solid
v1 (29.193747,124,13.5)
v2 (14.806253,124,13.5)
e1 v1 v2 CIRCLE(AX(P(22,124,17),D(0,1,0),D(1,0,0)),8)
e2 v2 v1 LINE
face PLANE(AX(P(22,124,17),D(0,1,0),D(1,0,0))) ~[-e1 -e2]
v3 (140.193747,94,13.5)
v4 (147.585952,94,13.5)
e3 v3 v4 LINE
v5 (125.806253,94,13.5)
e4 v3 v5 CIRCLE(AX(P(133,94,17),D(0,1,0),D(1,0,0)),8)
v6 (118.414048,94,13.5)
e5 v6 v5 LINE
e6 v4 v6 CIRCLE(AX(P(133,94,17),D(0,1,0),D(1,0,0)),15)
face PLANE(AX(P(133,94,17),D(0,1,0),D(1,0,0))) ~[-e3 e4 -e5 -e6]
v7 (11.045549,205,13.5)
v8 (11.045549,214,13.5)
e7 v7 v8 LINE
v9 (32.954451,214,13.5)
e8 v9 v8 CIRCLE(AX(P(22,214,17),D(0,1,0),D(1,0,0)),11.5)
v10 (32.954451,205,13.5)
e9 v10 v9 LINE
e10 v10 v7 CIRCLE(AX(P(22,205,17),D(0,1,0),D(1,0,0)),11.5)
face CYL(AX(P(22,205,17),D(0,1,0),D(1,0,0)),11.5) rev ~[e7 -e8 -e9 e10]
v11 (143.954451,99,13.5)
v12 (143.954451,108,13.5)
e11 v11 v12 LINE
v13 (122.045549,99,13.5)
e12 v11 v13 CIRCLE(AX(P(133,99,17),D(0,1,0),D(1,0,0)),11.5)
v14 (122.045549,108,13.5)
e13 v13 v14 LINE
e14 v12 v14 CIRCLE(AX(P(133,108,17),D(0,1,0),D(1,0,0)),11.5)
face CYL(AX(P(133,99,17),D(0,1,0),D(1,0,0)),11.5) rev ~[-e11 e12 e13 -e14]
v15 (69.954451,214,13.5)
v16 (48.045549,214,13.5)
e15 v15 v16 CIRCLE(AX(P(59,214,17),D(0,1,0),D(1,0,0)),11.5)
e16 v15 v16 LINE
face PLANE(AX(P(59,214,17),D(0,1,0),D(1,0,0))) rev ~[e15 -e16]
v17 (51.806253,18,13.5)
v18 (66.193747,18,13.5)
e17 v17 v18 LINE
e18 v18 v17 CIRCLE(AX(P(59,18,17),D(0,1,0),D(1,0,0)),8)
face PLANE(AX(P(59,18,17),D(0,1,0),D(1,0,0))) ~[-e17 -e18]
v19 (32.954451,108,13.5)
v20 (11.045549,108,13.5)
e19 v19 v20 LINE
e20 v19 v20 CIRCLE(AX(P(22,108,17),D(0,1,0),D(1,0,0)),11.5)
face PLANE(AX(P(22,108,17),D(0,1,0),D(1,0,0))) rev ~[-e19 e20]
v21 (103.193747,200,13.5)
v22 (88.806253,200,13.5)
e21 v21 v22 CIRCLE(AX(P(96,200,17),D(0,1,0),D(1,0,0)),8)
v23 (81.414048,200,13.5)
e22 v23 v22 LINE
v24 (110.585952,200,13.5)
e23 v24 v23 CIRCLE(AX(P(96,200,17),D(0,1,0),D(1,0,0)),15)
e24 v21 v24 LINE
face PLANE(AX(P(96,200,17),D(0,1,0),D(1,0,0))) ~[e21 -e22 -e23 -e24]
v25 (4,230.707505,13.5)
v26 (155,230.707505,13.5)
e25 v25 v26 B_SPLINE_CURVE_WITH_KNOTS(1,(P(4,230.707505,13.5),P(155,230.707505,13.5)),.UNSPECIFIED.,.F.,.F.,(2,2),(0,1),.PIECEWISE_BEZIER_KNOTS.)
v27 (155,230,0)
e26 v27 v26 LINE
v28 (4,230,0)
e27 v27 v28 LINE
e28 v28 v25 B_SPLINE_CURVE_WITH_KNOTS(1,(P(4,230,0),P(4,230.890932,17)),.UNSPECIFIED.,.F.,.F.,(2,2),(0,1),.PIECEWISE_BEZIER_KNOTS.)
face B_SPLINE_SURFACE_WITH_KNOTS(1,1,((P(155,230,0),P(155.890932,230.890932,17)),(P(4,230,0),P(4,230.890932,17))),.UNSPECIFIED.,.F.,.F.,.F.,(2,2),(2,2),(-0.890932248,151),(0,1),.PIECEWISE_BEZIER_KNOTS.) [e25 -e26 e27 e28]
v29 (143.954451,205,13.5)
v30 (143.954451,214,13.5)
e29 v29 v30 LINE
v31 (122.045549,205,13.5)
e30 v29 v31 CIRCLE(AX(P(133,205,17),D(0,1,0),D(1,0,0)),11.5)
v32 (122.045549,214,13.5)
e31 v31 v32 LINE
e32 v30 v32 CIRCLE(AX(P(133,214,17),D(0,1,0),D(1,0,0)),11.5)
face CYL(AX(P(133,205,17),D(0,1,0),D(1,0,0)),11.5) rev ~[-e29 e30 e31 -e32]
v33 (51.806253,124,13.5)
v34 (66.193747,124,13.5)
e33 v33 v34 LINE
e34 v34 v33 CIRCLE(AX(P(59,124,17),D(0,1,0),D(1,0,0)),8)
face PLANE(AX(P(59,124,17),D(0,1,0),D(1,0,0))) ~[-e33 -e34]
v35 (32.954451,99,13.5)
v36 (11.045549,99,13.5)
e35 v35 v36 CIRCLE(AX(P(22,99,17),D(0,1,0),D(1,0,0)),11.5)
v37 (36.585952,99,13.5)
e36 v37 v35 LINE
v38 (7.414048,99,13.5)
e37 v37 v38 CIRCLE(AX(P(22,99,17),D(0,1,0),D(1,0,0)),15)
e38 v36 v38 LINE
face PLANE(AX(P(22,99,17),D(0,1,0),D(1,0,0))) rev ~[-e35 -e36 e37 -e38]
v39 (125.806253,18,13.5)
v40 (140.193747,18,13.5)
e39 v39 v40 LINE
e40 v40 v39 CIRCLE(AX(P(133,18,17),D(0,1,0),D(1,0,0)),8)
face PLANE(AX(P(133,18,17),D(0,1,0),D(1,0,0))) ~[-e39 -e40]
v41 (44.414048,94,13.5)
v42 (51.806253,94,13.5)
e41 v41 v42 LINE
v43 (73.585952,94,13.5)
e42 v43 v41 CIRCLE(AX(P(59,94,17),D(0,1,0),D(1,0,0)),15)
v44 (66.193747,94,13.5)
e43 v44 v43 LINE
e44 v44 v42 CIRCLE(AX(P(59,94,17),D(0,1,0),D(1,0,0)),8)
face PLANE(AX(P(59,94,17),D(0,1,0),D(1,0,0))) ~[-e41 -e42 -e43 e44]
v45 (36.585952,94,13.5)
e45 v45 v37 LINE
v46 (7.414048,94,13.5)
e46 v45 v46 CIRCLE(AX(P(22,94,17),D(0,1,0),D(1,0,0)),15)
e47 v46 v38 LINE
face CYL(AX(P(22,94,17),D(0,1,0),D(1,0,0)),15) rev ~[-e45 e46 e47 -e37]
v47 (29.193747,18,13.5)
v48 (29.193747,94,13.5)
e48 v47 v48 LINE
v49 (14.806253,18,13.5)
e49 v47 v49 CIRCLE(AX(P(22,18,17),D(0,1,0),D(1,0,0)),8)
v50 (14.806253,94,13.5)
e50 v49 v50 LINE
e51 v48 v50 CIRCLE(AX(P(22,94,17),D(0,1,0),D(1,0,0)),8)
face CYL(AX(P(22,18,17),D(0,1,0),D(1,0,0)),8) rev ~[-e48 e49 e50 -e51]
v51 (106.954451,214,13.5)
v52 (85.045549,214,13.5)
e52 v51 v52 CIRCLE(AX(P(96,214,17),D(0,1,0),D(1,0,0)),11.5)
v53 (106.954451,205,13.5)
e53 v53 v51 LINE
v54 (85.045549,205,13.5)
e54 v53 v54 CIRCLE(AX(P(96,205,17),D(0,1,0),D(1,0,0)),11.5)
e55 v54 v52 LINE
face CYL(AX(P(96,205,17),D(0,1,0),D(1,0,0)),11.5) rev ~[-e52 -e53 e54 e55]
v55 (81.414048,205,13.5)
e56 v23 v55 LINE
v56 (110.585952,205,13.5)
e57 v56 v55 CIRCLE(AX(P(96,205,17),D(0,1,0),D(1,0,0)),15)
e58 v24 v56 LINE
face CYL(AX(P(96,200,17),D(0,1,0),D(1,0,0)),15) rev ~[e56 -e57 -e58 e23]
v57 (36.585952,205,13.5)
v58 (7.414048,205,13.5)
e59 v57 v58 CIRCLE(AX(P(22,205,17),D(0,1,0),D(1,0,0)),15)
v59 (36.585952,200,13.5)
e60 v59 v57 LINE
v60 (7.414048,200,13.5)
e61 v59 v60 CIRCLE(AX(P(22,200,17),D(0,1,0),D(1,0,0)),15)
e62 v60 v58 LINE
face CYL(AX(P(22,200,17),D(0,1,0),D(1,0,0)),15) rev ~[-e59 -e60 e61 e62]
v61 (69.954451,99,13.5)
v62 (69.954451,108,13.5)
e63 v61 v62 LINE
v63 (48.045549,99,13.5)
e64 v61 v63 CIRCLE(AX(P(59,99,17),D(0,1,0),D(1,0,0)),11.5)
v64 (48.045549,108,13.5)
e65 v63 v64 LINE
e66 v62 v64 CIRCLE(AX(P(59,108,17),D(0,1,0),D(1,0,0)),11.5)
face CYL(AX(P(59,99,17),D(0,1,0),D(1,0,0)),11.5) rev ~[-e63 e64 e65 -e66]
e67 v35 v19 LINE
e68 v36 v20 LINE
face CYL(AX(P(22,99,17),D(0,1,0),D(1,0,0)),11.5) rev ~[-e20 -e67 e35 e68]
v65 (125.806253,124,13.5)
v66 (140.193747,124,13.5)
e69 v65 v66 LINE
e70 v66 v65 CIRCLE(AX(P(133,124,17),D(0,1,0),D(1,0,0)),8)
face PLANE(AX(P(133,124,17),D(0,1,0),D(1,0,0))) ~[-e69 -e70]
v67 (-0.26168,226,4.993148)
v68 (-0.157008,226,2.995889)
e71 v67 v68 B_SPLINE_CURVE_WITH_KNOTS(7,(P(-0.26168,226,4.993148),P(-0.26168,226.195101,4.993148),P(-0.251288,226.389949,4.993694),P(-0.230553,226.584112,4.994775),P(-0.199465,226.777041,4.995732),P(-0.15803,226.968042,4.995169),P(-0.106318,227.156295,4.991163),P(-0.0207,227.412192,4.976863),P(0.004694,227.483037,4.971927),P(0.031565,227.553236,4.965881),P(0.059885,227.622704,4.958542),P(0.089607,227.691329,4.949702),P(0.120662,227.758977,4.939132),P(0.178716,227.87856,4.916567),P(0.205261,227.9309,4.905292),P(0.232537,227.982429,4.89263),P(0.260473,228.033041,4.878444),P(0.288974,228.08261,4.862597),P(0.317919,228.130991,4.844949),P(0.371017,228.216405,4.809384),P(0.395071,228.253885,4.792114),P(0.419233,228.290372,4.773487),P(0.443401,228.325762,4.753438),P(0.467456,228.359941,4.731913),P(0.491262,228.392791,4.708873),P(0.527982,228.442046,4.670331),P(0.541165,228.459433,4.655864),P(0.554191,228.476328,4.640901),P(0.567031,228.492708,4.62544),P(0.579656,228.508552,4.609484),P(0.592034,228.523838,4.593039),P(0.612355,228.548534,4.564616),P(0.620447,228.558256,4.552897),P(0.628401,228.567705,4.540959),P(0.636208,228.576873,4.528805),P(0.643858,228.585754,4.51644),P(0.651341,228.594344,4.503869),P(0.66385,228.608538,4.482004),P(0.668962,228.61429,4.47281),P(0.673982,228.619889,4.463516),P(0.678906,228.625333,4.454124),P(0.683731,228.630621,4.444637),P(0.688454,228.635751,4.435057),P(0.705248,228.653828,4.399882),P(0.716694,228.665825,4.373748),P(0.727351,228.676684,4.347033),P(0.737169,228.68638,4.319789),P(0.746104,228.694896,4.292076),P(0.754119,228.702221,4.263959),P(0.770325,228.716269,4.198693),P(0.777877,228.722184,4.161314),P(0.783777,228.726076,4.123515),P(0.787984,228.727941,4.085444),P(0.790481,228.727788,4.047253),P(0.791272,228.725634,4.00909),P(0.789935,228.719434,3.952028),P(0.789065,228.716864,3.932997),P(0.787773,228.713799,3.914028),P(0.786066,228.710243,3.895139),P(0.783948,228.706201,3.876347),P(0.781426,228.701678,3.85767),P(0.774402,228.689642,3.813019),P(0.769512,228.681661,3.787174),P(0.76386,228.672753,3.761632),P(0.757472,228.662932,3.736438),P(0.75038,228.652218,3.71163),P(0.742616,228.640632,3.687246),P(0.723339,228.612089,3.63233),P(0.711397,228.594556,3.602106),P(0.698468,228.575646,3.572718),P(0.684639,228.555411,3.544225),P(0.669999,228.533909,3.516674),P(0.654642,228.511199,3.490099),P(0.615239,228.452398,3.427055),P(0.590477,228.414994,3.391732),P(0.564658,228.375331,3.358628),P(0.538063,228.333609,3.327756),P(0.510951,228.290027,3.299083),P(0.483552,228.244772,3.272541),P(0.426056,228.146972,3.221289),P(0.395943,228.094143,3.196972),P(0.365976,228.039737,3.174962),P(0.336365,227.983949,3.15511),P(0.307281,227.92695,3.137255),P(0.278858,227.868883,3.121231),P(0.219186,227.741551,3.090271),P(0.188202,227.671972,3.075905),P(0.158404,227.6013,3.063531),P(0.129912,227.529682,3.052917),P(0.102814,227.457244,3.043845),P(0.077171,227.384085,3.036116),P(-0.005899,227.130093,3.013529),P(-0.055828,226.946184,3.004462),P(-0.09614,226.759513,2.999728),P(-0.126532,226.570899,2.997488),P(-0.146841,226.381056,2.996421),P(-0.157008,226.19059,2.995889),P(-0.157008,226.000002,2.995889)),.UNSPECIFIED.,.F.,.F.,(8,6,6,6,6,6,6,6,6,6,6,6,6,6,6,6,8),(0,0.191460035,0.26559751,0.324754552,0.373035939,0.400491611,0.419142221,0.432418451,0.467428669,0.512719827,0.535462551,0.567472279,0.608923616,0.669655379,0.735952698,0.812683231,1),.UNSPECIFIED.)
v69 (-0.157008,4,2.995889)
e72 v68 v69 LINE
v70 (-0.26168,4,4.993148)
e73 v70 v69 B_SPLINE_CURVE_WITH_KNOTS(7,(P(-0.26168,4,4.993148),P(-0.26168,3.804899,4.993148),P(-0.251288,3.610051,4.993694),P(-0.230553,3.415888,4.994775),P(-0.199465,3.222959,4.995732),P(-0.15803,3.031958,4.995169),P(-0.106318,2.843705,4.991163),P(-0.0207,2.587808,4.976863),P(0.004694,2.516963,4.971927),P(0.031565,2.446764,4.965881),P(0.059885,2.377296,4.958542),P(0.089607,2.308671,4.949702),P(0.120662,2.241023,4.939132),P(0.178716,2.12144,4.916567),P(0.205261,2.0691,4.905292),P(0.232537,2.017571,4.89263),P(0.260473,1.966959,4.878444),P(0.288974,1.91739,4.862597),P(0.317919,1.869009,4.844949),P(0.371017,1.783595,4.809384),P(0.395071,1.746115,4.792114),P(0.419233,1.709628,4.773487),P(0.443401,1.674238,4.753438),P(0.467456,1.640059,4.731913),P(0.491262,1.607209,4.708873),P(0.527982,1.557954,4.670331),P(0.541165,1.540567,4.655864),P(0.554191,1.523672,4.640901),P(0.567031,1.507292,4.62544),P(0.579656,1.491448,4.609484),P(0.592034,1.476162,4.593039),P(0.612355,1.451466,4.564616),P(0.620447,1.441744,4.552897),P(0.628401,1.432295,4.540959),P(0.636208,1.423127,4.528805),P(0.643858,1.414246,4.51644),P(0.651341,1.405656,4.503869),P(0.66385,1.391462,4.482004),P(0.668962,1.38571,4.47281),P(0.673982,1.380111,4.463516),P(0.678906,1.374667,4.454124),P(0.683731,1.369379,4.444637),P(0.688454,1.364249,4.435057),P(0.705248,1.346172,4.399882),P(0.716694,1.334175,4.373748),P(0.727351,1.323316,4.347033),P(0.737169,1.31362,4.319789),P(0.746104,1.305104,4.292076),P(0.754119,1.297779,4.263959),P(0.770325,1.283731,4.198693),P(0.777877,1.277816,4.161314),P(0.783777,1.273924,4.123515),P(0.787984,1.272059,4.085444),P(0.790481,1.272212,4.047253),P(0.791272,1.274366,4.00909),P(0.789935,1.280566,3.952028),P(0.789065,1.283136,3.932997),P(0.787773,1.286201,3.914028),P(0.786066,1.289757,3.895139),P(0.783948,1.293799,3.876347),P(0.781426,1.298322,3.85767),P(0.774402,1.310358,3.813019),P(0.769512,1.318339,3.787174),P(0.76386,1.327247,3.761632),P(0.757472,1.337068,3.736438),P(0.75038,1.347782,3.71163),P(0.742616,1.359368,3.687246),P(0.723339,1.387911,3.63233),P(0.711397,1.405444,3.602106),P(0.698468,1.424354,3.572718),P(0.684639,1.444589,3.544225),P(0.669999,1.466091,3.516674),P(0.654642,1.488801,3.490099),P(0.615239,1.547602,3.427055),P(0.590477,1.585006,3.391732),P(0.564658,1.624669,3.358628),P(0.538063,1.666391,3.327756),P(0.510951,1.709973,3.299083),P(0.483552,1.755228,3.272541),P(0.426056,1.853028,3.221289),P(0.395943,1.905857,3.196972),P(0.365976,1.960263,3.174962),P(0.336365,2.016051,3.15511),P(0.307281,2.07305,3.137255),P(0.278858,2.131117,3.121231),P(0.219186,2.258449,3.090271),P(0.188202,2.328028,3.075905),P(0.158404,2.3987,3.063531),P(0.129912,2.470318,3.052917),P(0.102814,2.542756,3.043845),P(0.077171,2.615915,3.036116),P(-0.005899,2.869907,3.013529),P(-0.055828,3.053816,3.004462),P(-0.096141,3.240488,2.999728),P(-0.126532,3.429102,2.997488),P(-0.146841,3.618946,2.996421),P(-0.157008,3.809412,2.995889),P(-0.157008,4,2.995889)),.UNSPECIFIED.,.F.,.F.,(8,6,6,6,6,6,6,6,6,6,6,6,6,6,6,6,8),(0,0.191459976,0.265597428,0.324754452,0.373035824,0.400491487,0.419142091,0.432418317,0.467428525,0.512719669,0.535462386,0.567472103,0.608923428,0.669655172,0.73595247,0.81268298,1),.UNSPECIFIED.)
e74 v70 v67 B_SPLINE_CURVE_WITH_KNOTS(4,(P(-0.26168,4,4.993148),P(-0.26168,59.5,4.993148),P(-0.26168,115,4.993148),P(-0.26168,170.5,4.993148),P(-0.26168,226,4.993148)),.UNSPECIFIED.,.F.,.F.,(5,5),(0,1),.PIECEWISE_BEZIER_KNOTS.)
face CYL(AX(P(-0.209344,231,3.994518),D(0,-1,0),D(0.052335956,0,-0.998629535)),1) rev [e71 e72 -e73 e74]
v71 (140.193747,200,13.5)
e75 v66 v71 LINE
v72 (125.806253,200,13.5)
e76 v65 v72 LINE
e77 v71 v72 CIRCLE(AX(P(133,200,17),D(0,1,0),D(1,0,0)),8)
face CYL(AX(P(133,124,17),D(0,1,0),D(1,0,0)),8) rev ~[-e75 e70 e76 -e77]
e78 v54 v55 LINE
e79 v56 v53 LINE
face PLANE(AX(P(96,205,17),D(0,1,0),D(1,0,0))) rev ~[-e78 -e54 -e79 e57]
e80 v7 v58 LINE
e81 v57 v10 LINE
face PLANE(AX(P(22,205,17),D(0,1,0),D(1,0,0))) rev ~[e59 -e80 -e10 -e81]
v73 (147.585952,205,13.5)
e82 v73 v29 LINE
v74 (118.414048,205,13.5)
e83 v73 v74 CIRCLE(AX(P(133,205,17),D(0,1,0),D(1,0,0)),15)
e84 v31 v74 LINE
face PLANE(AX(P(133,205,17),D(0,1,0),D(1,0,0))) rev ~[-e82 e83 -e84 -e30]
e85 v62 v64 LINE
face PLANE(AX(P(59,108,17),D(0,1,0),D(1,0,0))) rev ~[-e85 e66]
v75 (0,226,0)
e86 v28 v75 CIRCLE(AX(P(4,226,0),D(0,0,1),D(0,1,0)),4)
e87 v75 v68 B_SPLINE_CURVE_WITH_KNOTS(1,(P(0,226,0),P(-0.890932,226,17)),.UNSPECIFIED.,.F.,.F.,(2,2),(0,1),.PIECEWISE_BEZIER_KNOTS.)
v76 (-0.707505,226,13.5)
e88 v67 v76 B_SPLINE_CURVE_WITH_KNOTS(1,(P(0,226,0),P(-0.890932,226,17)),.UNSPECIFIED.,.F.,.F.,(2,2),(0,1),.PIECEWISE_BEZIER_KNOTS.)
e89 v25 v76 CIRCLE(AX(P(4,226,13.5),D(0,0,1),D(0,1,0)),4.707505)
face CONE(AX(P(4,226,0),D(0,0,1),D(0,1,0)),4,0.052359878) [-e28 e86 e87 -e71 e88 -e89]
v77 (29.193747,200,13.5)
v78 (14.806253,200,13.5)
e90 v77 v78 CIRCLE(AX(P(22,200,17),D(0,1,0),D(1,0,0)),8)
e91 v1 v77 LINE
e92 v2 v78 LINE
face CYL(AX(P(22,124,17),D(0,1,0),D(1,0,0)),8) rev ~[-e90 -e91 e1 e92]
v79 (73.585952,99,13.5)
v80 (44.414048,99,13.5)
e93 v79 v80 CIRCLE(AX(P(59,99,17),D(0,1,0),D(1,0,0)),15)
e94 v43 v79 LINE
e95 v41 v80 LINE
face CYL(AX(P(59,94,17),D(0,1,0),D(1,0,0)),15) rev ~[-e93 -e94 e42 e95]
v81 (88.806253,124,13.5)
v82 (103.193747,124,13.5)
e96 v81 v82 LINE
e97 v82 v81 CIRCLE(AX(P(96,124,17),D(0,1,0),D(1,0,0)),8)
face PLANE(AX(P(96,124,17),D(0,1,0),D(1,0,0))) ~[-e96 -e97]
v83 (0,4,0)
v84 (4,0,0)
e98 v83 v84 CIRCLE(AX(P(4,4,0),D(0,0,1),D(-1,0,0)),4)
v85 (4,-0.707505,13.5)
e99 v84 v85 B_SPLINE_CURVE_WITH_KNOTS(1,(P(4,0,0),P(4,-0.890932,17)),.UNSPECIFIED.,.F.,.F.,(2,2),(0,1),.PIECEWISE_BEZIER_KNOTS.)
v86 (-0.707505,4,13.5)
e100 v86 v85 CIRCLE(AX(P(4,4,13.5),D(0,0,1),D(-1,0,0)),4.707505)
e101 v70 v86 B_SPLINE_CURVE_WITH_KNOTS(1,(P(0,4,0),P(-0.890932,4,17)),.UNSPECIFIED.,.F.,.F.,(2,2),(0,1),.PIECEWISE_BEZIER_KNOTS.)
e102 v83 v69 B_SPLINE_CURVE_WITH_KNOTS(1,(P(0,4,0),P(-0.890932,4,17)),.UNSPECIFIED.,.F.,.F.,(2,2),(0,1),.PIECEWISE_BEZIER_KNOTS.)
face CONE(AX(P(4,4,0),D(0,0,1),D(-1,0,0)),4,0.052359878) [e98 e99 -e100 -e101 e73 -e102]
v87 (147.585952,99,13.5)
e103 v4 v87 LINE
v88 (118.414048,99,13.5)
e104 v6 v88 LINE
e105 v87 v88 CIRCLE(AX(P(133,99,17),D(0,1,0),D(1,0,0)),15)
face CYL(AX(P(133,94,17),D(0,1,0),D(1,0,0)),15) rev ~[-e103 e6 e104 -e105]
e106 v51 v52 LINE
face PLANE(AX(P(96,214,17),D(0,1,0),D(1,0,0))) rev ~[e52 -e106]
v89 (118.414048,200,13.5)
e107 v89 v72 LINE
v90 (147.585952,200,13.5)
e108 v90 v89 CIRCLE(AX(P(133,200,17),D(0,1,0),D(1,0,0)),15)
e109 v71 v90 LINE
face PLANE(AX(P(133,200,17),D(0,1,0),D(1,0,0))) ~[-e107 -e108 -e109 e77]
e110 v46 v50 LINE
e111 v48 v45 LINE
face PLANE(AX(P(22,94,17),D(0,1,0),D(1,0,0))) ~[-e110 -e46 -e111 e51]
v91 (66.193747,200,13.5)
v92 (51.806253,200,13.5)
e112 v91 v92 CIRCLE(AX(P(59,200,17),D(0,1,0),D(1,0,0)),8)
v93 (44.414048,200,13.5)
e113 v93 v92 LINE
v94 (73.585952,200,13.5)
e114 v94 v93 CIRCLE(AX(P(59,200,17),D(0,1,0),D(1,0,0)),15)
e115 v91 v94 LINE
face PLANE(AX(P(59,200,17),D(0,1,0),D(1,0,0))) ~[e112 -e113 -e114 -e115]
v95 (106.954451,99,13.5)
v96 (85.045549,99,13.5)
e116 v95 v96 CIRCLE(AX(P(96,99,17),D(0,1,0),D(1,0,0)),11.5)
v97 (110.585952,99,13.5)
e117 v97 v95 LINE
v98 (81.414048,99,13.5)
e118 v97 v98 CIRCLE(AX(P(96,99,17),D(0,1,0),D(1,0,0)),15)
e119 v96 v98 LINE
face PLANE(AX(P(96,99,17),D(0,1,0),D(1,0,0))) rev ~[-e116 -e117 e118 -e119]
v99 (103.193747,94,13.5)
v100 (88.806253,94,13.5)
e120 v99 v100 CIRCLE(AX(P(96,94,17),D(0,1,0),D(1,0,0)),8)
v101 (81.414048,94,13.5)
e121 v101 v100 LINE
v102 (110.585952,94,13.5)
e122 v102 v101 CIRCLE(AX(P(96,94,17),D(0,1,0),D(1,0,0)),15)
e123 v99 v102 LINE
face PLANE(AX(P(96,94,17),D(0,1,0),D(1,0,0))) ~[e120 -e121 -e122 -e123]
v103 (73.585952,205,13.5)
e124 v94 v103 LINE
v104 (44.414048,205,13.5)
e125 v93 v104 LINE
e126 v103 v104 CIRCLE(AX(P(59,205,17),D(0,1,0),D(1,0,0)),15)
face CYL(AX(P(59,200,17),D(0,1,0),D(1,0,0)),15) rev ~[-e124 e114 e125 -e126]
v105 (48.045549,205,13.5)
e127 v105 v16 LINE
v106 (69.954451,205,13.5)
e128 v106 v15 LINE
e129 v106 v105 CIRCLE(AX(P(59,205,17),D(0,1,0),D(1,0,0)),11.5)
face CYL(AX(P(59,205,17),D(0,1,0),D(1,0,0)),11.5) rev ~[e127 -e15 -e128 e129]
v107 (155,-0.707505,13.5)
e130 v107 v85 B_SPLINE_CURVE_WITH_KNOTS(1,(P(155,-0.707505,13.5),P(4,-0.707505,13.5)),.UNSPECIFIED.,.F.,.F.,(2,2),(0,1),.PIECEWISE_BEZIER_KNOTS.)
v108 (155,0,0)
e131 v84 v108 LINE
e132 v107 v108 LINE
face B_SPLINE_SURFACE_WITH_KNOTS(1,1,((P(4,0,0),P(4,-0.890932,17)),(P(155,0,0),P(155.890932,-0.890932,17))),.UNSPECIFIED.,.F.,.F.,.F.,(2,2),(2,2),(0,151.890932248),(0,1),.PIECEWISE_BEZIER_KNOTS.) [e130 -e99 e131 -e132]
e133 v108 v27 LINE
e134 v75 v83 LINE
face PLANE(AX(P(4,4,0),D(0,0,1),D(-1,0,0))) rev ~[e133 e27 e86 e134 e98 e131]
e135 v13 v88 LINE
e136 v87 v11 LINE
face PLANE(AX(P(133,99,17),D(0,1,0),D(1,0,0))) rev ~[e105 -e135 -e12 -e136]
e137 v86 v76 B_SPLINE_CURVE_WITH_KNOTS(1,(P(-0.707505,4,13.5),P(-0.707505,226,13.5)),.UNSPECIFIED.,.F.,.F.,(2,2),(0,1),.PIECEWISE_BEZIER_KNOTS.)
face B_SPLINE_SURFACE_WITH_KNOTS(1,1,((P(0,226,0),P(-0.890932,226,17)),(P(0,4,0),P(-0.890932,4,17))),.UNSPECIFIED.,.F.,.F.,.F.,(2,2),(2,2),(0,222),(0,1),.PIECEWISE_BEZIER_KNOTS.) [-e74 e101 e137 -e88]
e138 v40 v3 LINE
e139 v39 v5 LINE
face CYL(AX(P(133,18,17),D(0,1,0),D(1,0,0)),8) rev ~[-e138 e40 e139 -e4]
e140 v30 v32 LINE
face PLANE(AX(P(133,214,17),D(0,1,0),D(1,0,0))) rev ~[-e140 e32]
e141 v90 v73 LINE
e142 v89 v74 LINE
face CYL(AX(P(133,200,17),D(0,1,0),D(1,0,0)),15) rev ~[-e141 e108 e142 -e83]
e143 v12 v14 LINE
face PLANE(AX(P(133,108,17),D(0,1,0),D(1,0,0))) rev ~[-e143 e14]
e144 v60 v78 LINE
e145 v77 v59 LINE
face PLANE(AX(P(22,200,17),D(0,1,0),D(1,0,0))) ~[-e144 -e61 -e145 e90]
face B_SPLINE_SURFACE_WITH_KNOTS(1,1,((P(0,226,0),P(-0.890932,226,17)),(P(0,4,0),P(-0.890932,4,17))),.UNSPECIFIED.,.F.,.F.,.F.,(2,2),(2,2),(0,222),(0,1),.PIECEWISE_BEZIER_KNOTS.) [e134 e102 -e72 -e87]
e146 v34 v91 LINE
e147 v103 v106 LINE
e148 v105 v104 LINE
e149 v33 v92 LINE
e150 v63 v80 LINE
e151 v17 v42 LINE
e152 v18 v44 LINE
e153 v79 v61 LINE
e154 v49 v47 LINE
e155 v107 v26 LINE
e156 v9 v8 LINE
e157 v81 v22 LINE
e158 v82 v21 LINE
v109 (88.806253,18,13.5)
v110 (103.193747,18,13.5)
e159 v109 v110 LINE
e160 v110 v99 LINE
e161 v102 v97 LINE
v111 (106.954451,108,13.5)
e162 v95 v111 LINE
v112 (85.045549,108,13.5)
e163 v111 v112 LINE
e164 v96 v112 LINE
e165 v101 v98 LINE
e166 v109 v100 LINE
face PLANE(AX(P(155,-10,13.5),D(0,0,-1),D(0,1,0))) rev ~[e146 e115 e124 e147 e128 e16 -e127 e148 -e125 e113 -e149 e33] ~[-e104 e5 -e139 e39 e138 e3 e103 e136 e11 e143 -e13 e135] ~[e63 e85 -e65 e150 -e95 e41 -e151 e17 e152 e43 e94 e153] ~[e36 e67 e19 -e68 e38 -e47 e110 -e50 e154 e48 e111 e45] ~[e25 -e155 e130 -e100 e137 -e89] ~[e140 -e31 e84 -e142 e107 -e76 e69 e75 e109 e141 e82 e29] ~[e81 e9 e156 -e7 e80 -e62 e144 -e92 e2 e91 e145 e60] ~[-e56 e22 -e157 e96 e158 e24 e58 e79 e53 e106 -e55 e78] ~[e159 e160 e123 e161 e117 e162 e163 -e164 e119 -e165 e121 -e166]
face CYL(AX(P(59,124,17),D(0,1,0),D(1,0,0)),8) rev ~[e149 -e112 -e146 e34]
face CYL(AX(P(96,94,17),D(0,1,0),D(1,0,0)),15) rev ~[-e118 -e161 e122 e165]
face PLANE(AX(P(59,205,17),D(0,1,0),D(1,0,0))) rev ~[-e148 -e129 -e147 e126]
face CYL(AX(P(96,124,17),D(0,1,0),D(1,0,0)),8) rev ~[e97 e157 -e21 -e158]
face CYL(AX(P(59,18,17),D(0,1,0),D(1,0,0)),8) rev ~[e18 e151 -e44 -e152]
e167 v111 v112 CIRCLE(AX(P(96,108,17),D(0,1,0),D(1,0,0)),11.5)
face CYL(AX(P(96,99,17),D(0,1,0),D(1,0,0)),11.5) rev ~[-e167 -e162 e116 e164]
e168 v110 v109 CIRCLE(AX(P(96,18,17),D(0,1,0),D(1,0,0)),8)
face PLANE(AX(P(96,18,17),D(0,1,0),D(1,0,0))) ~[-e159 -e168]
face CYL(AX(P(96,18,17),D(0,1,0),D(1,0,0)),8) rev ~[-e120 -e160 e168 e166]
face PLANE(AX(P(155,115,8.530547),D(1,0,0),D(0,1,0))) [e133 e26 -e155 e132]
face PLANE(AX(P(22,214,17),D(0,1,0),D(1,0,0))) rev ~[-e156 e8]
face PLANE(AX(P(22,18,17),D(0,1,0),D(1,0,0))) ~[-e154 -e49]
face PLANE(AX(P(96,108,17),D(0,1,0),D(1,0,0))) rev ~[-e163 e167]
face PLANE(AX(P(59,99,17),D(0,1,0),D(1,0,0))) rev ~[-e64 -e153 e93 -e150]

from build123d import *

# Parameters (mm, degrees)
F1_DEPTH  = 17
F1_TAPER  = -3
F4_DEPTH  = 25
F16_W     = 246.069
F16_H     = 9.169
F17_DEPTH = 155.8919323478


with BuildPart() as f1:
    # F0 (on Top) → F1 (new body)
    with BuildSketch(Plane.XY):
        with BuildLine():
            ThreePointArc((0, 4), (1.1715728753, 1.1715728753), (4, 0))
            Line((4, 0), (155, 0))
            Line((155, 0), (155, 230))
            Line((155, 230), (4, 230))
            ThreePointArc((4, 230), (1.1715728753, 228.8284271247), (0, 226))
            Line((0, 226), (0, 4))
        make_face()
    extrude(amount=F1_DEPTH, taper=F1_TAPER)

    # F3 (on offset) → F4 (cut)
    with BuildSketch(Plane.YZ.offset(155)):
        Polygon((-0.8909322478, 17), (0, 0), (230, 0), (230.8909322478, 17), align=None)
    extrude(amount=F4_DEPTH, mode=Mode.SUBTRACT)

    # F5 (on face) → F6 (revolve, cut)
    with BuildSketch(Plane.XY.offset(17)):
        Polygon((22, 94), (22, 18), (30, 18), (30, 94), (37, 94), (37, 99), (33.5, 99), (33.5, 108), (22, 108), (22, 99), align=None)
    revolve(axis=Axis((22, 56, 17), (0, 1, 0)), mode=Mode.SUBTRACT)

    # F5 (on face) → F7 (revolve, cut)
    with BuildSketch(Plane.XY.offset(17)):
        Polygon((59, 94), (59, 18), (67, 18), (67, 94), (74, 94), (74, 99), (70.5, 99), (70.5, 108), (59, 108), (59, 99), align=None)
    revolve(axis=Axis((59, 56, 17), (0, 1, 0)), mode=Mode.SUBTRACT)

    # F5 (on face) → F8 (revolve, cut)
    with BuildSketch(Plane.XY.offset(17)):
        Polygon((96, 94), (96, 18), (104, 18), (104, 94), (111, 94), (111, 99), (107.5, 99), (107.5, 108), (96, 108), (96, 99), align=None)
    revolve(axis=Axis((96, 56, 17), (0, 1, 0)), mode=Mode.SUBTRACT)

    # F5 (on face) → F9 (revolve, cut)
    with BuildSketch(Plane.XY.offset(17)):
        Polygon((133, 94), (133, 18), (141, 18), (141, 94), (148, 94), (148, 99), (144.5, 99), (144.5, 108), (133, 108), (133, 99), align=None)
    revolve(axis=Axis((133, 56, 17), (0, 1, 0)), mode=Mode.SUBTRACT)

    # F5 (on face) → F10 (revolve, cut)
    with BuildSketch(Plane.XY.offset(17)):
        Polygon((22, 200), (22, 124), (30, 124), (30, 200), (37, 200), (37, 205), (33.5, 205), (33.5, 214), (22, 214), (22, 205), align=None)
    revolve(axis=Axis((22, 162, 17), (0, 1, 0)), mode=Mode.SUBTRACT)

    # F5 (on face) → F11 (revolve, cut)
    with BuildSketch(Plane.XY.offset(17)):
        Polygon((59, 200), (59, 124), (67, 124), (67, 200), (74, 200), (74, 205), (70.5, 205), (70.5, 214), (59, 214), (59, 205), align=None)
    revolve(axis=Axis((59, 162, 17), (0, 1, 0)), mode=Mode.SUBTRACT)

    # F5 (on face) → F12 (revolve, cut)
    with BuildSketch(Plane.XY.offset(17)):
        Polygon((96, 200), (96, 124), (104, 124), (104, 200), (111, 200), (111, 205), (107.5, 205), (107.5, 214), (96, 214), (96, 205), align=None)
    revolve(axis=Axis((96, 162, 17), (0, 1, 0)), mode=Mode.SUBTRACT)

    # F5 (on face) → F13 (revolve, cut)
    with BuildSketch(Plane.XY.offset(17)):
        Polygon((133, 200), (133, 124), (141, 124), (141, 200), (148, 200), (148, 205), (144.5, 205), (144.5, 214), (133, 214), (133, 205), align=None)
    revolve(axis=Axis((133, 162, 17), (0, 1, 0)), mode=Mode.SUBTRACT)

    # F14 (on face) → F15 (revolve, cut)
    with BuildSketch(Plane(origin=(0, 0, 0), x_dir=(0, -1, 0), z_dir=(-0.9986295348, 0, -0.0523359562))):
        Polygon((2, 4), (-226, 4), (-231, 4), (-231, 3), (2, 3), align=None)
    revolve(axis=Axis((-0.209343825, 112, 3.994518139), (0, 1, 0)), mode=Mode.SUBTRACT)

    # F16 (on face) → F17 (cut, through all)
    with BuildSketch(Plane.YZ.offset(155)):
        with Locations((113.0345, 18.0845)):
            Rectangle(F16_W, F16_H)
    extrude(amount=-F17_DEPTH, mode=Mode.SUBTRACT)


solid = f1.part
